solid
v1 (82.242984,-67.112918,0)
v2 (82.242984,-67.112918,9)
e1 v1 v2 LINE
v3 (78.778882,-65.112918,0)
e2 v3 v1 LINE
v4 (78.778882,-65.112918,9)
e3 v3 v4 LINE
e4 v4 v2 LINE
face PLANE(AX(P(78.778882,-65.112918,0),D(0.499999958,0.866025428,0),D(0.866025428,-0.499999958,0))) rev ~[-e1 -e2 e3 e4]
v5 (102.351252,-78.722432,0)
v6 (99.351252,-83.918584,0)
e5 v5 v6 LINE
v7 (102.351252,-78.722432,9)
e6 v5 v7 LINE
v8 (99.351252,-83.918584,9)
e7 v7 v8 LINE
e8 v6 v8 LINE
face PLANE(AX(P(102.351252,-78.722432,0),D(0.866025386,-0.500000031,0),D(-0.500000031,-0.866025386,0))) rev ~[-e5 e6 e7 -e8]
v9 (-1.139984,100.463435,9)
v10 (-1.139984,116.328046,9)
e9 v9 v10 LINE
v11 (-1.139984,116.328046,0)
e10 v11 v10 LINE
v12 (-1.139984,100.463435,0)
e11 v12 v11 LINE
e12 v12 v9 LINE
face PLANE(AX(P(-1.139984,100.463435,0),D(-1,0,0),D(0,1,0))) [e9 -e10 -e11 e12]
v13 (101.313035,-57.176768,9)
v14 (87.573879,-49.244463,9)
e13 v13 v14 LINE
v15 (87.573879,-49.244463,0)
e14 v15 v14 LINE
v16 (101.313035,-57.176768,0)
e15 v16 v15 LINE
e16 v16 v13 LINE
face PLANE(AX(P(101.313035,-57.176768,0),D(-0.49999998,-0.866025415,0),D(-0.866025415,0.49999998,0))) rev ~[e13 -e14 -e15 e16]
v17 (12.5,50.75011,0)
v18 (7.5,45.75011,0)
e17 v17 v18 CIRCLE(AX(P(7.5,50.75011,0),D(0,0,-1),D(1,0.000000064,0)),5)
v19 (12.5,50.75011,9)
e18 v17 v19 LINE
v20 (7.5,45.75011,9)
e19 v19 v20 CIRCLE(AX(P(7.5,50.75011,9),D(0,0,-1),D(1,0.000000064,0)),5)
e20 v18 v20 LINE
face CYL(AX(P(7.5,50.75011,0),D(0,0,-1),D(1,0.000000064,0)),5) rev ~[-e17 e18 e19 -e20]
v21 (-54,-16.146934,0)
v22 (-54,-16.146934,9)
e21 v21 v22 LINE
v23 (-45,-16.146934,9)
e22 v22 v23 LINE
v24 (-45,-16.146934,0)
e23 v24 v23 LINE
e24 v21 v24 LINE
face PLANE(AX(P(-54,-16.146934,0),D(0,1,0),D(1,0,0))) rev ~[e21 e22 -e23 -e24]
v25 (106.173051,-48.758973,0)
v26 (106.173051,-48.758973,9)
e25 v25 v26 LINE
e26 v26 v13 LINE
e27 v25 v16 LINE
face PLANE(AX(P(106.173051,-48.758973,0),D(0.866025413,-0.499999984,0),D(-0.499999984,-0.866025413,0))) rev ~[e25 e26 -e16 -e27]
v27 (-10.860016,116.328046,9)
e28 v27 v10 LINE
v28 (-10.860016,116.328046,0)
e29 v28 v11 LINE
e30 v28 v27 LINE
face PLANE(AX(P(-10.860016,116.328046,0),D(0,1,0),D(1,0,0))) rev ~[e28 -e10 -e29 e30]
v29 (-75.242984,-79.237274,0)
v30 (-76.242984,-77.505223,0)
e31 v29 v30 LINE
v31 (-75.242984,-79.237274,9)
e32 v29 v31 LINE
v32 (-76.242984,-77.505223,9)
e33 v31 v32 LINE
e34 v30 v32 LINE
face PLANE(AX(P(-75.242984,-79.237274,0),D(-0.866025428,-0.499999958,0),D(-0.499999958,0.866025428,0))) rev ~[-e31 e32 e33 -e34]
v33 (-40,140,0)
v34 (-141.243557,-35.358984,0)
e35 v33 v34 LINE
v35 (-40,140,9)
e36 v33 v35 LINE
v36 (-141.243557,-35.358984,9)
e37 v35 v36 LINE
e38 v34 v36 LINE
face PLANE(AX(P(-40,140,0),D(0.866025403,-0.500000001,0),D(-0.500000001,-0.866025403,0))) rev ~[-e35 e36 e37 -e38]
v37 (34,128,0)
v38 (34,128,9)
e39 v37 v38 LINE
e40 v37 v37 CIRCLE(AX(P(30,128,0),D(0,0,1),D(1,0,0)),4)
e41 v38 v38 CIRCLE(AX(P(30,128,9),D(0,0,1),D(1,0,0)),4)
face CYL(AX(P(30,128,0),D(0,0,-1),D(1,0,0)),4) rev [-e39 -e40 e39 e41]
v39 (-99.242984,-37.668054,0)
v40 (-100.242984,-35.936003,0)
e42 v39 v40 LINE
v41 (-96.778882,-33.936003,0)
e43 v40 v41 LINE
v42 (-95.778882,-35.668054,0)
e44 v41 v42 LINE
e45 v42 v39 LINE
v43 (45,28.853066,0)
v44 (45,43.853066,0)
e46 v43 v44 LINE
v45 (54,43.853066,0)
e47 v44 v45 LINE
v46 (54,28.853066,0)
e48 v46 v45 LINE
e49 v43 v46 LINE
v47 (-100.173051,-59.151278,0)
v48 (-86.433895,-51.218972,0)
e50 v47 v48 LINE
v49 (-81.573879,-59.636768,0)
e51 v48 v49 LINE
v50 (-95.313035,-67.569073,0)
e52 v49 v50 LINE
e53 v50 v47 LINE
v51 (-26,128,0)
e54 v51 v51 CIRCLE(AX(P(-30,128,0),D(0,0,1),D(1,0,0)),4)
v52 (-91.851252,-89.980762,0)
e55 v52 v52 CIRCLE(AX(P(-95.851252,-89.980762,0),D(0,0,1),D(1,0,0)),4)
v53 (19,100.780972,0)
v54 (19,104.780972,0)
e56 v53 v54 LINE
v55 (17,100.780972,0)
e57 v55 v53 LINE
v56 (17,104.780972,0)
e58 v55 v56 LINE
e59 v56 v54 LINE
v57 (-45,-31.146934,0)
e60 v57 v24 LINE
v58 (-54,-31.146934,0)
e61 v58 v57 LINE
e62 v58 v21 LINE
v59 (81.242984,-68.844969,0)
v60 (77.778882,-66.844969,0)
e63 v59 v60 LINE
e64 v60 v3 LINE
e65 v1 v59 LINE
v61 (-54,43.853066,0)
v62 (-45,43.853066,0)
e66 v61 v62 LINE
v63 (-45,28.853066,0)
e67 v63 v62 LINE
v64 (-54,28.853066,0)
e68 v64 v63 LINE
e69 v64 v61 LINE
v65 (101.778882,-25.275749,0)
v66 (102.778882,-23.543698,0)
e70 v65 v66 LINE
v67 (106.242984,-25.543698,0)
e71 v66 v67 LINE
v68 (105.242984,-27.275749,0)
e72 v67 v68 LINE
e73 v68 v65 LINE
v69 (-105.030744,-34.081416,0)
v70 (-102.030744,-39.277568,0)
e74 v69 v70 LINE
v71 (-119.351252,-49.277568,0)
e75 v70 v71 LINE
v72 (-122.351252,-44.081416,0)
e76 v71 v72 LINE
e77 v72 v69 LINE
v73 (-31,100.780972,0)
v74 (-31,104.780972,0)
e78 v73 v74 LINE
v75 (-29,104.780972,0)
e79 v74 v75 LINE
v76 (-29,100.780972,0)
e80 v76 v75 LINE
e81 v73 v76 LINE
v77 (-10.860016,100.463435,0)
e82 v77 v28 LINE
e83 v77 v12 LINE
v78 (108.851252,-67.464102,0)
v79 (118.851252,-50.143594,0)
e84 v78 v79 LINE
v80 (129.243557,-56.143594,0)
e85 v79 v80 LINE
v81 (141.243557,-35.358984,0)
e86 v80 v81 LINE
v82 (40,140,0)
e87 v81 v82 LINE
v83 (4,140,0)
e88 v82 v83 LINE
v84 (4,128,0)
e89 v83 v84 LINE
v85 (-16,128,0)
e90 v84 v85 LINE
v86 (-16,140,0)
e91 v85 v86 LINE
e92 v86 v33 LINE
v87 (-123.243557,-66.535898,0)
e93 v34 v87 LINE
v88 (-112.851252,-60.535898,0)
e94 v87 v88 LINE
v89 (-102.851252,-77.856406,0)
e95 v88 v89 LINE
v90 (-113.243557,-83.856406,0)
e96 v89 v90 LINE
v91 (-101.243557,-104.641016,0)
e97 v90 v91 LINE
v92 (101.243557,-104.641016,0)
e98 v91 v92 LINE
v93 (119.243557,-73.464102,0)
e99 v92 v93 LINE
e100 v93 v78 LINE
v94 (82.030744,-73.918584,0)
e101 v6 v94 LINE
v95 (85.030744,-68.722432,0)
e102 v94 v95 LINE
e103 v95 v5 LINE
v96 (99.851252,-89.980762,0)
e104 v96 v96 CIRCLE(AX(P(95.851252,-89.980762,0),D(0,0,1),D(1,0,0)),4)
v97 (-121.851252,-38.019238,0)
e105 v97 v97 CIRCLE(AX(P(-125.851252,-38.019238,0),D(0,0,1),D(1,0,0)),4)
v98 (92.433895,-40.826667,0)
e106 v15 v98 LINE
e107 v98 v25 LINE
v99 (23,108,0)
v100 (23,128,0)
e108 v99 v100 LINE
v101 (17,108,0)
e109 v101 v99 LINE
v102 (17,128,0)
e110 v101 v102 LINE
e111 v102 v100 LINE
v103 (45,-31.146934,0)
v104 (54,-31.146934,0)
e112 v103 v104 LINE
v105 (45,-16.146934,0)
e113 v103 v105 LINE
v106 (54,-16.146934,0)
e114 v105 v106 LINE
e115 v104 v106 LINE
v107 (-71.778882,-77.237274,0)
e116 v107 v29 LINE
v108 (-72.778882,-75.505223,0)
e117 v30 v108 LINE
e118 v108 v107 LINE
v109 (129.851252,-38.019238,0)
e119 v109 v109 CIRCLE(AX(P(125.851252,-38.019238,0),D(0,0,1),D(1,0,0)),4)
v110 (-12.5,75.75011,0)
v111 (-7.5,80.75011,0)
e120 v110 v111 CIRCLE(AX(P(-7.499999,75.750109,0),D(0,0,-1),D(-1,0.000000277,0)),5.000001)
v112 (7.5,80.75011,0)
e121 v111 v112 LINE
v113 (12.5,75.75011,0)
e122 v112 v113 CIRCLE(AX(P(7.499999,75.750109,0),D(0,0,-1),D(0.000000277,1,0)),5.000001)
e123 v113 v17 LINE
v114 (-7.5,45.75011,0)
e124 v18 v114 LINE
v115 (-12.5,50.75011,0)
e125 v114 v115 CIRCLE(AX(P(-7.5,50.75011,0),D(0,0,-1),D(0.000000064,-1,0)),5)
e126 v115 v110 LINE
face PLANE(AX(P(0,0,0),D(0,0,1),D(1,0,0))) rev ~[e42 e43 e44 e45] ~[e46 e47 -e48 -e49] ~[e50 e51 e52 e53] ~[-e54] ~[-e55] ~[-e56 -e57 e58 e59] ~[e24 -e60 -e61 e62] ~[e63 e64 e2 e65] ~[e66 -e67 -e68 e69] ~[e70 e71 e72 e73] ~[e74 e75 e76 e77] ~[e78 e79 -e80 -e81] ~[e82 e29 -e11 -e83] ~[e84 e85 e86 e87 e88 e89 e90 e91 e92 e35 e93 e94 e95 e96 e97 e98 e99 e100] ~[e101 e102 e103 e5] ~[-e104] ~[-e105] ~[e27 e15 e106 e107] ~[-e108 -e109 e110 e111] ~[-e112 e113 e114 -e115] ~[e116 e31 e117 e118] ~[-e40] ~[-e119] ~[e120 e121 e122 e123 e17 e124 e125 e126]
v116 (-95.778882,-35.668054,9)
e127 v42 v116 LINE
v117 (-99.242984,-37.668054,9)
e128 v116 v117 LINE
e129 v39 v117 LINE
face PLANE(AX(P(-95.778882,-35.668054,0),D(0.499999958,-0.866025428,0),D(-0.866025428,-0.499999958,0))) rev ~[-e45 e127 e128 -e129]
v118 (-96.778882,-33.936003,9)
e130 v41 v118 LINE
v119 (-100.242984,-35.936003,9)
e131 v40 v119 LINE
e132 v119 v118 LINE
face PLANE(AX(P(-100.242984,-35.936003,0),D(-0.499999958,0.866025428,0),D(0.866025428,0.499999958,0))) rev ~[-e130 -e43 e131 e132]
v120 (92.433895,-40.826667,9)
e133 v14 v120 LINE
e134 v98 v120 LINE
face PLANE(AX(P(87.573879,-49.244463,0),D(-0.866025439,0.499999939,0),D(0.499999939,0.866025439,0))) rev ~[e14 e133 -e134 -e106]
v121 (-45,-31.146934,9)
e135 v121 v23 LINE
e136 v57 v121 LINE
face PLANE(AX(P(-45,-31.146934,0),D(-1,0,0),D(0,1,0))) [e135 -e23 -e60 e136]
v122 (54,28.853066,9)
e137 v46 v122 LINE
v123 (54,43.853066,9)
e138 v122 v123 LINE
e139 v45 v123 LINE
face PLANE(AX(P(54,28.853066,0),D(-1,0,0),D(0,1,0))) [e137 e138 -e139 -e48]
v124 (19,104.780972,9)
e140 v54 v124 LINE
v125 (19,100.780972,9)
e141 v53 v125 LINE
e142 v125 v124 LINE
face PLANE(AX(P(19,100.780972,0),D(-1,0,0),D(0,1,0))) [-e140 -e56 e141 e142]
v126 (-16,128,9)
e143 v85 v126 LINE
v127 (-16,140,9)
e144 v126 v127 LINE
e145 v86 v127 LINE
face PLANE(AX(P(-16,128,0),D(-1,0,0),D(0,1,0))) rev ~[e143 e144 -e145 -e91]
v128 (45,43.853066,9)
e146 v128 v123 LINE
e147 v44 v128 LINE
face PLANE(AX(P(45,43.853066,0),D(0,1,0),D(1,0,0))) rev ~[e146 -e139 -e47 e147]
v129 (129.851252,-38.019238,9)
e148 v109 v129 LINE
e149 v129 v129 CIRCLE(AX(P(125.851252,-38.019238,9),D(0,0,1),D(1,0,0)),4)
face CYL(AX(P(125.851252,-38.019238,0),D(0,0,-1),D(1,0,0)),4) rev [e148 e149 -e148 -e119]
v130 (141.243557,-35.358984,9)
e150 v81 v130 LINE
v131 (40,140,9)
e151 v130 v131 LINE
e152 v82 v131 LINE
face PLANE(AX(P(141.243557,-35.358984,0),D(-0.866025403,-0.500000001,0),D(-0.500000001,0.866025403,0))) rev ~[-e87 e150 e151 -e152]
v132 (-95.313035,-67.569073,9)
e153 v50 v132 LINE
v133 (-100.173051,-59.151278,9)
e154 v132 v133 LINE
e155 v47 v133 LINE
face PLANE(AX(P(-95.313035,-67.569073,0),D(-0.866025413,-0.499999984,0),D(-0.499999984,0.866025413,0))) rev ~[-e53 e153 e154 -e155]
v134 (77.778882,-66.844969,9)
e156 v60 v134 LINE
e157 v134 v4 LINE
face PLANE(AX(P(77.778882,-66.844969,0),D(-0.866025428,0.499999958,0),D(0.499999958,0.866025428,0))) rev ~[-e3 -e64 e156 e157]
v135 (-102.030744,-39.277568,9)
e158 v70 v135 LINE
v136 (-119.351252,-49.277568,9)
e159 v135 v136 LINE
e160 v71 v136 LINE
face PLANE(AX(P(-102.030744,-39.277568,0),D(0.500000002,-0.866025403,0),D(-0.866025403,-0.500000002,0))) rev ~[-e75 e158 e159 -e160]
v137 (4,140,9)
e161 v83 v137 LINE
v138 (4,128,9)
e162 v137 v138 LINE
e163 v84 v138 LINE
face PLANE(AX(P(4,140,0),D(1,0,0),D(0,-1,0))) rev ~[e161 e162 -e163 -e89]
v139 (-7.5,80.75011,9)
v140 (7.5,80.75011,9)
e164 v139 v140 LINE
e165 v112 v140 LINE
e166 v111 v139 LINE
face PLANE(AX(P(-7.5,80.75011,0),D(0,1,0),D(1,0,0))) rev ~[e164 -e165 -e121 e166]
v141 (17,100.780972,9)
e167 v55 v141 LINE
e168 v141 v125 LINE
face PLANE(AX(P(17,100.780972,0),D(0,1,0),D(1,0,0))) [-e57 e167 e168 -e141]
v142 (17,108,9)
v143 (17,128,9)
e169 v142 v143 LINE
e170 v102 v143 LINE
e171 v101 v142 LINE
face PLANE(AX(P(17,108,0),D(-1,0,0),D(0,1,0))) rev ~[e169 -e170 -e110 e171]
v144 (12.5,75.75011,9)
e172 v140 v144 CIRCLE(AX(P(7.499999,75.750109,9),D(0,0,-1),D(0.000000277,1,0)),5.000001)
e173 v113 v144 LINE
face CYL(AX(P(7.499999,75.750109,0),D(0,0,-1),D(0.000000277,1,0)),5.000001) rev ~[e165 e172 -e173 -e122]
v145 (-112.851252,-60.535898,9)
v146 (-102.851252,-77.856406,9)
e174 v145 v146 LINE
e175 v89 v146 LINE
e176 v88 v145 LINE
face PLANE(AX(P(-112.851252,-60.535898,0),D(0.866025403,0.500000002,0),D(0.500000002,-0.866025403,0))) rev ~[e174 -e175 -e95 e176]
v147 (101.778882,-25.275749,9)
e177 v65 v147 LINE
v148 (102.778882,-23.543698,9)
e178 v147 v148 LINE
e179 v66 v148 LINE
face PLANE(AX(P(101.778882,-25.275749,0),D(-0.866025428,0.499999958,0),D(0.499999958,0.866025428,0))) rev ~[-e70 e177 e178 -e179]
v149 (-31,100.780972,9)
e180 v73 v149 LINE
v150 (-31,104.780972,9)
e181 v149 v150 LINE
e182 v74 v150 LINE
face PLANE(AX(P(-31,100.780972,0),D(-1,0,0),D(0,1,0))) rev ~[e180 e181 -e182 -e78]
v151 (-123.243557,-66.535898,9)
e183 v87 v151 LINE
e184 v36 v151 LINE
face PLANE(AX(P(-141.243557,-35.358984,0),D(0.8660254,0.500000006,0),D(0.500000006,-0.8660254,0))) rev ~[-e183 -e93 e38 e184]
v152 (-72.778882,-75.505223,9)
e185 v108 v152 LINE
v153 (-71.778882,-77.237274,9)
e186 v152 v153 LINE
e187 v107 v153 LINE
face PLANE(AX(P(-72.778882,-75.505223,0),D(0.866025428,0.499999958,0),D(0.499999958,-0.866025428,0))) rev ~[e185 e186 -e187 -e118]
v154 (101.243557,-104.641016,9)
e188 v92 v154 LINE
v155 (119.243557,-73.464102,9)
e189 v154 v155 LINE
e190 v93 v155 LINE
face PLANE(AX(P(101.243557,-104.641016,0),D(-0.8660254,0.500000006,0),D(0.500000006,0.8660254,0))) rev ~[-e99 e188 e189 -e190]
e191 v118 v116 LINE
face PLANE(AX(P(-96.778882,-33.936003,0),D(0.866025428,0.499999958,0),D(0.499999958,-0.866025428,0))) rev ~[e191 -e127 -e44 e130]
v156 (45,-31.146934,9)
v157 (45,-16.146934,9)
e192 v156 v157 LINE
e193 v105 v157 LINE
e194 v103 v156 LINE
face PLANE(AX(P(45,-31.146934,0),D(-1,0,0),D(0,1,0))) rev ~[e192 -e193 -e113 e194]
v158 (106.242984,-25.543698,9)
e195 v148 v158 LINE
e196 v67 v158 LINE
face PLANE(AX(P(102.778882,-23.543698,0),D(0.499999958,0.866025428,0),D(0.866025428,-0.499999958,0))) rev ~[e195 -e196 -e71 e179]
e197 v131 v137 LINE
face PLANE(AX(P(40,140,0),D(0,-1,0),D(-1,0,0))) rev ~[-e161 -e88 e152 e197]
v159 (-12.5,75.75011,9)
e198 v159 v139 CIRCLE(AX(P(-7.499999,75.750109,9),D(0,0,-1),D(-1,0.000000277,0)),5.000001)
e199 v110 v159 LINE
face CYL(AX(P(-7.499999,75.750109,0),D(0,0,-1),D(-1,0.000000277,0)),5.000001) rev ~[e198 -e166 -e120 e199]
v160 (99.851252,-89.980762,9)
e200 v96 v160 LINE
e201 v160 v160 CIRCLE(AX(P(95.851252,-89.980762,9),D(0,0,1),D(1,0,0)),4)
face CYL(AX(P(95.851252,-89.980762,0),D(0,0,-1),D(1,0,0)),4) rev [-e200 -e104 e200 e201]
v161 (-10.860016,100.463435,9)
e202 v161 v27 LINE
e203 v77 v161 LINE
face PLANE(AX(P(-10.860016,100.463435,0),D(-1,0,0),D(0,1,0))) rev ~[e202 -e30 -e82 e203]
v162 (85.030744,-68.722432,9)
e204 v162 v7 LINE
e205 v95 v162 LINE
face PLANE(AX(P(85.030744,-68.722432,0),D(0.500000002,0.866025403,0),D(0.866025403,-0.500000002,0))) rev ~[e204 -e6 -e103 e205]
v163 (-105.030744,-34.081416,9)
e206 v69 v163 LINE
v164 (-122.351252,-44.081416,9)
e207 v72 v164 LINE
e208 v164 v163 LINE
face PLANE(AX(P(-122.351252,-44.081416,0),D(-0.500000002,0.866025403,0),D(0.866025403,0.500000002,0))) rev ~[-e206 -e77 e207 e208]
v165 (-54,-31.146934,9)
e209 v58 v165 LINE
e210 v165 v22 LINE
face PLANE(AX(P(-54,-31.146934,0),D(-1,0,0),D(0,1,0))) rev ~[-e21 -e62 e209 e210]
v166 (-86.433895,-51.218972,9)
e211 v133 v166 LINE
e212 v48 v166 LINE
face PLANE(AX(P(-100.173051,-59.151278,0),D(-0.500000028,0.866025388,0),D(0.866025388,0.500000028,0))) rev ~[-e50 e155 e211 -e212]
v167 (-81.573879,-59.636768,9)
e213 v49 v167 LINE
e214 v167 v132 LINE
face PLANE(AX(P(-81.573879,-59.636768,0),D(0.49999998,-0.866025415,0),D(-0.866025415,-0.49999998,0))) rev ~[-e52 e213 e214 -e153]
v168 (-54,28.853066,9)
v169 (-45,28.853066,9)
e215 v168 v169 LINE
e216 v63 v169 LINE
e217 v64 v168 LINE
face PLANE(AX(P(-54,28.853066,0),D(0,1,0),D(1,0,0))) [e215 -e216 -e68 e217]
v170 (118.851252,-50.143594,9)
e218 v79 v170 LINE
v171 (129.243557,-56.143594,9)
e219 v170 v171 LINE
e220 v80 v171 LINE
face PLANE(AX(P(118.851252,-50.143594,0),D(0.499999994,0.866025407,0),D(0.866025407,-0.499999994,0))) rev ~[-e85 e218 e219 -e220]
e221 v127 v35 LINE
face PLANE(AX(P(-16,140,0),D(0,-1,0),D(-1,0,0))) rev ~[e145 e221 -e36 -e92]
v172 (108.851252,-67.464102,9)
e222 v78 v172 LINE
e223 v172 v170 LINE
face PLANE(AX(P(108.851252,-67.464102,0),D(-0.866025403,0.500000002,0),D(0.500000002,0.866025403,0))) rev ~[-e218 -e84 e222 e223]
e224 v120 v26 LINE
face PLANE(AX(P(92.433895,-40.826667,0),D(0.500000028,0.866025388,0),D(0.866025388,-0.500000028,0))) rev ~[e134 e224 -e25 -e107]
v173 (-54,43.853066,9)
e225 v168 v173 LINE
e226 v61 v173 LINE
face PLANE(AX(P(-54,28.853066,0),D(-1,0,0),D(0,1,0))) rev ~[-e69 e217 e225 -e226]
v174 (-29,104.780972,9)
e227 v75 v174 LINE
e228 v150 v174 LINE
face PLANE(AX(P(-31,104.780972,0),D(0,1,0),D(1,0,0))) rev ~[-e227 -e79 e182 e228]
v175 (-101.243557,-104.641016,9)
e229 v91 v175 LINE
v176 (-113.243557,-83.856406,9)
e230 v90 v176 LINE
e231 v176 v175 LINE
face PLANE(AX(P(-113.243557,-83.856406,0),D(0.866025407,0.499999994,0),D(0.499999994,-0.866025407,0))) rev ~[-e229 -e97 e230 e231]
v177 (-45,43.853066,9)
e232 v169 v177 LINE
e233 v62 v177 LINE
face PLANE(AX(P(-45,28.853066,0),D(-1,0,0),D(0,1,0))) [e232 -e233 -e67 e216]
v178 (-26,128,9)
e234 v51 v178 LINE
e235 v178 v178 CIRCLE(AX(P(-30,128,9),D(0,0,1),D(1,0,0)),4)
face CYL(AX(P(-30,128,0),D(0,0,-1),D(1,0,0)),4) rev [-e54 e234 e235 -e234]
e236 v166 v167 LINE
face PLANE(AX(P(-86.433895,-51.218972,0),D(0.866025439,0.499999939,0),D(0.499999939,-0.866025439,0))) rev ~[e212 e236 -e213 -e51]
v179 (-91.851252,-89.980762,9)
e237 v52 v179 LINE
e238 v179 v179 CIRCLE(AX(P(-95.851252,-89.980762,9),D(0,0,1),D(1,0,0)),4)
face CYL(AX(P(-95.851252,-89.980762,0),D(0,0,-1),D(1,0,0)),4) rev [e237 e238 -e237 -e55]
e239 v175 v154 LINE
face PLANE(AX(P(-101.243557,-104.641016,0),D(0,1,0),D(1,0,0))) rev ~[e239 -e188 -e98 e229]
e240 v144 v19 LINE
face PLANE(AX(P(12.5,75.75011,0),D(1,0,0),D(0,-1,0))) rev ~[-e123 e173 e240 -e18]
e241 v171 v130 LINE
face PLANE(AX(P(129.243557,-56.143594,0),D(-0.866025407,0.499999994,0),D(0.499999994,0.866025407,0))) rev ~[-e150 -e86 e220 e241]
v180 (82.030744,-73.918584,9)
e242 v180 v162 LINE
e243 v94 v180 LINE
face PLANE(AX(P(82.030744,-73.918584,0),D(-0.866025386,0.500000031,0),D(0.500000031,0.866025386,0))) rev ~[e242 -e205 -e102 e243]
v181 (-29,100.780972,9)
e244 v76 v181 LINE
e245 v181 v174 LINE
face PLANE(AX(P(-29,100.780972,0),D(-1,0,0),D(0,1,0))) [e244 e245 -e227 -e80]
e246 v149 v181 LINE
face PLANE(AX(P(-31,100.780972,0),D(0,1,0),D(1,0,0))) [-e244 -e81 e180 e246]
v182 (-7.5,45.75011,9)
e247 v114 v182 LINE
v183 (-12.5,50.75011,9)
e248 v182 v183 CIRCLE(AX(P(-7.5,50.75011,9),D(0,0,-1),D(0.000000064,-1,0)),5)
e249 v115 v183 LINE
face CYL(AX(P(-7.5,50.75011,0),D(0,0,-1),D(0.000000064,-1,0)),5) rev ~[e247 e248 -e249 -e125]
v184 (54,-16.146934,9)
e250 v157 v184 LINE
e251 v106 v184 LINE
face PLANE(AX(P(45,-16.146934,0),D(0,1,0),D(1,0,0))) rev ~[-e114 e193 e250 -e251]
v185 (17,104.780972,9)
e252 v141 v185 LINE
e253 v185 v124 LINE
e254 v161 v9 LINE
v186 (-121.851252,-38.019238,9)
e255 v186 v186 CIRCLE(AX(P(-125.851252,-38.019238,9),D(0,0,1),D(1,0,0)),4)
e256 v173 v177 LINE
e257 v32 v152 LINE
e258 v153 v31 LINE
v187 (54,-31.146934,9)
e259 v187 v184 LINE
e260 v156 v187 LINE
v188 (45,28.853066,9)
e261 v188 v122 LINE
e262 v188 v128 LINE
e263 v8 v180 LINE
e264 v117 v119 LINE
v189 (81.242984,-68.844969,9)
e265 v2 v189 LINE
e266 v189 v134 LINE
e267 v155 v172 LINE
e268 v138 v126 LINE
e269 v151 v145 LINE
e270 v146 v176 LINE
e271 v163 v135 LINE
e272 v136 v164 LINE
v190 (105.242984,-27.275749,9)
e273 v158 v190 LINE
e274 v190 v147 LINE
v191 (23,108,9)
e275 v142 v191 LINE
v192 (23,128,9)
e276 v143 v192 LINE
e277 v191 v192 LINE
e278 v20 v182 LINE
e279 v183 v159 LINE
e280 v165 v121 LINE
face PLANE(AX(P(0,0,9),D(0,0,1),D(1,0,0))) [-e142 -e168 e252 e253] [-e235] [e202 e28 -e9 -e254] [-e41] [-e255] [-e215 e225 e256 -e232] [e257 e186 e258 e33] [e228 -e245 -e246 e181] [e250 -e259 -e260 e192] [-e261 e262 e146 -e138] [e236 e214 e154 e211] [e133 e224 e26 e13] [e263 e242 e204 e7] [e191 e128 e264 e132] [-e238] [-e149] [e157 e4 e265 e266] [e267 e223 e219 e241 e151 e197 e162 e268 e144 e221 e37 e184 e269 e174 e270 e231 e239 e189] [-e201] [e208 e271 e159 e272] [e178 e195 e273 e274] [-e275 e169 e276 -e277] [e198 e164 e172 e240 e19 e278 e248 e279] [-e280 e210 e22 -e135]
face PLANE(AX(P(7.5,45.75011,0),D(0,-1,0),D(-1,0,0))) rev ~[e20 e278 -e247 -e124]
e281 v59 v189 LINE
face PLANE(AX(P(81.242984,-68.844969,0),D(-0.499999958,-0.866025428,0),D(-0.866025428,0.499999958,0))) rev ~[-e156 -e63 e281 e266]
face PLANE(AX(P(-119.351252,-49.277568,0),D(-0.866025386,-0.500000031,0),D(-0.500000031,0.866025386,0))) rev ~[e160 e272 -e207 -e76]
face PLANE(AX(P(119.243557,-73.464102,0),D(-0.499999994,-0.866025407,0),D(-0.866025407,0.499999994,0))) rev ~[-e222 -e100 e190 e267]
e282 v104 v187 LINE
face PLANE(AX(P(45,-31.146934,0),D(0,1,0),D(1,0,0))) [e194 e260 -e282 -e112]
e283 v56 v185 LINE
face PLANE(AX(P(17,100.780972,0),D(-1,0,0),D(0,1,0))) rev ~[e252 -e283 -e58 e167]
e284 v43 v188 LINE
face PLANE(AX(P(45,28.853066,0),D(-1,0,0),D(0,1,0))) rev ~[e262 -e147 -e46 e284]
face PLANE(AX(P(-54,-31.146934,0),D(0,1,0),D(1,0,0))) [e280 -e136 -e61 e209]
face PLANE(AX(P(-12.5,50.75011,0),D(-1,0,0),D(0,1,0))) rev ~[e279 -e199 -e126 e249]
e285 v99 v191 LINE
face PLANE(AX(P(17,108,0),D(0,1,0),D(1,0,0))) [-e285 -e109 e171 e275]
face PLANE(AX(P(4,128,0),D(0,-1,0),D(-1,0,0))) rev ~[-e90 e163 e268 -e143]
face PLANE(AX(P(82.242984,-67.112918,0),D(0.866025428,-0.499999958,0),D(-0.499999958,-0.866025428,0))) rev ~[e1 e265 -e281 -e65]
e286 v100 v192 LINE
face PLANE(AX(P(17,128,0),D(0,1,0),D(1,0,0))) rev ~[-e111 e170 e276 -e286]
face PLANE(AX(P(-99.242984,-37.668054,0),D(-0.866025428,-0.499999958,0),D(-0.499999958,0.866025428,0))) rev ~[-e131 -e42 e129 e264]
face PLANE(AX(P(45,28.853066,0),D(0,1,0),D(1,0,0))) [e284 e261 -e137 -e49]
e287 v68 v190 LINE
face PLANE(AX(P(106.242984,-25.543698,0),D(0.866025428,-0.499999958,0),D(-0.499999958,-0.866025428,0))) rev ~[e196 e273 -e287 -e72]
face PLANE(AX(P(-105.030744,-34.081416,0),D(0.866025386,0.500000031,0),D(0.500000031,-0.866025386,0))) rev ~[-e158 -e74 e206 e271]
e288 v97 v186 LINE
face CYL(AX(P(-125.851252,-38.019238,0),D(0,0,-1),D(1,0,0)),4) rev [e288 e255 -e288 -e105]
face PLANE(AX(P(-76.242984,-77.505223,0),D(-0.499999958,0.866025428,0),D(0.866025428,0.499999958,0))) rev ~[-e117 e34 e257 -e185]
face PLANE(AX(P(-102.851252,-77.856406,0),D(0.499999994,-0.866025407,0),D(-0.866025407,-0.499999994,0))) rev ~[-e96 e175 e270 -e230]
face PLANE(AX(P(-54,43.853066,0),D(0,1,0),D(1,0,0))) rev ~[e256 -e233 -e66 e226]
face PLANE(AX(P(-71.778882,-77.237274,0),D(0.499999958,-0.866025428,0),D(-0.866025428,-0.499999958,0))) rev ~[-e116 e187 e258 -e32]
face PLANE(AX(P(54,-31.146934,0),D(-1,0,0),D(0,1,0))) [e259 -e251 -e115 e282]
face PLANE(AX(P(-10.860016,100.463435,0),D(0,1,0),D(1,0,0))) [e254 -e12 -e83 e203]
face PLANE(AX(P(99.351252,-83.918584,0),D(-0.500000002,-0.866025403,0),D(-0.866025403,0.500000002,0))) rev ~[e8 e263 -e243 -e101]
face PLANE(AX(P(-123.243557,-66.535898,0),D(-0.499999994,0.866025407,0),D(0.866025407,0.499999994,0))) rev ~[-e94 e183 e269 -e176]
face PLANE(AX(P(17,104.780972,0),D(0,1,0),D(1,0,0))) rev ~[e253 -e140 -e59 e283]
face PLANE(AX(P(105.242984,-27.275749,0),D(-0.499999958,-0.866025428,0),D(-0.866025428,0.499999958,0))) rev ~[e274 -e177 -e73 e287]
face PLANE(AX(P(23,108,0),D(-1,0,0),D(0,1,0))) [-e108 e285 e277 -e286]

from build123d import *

# Parameters (mm, degrees)
F0_R     = 4
F0_W     = 9
F0_H     = 15
F0_W_2   = 2
F0_H_2   = 4
F0_W_3   = 9.720032
F0_H_3   = 15.864611
F0_W_4   = 6
F0_H_4   = 20
F1_DEPTH = 9


with BuildPart() as f1:
    # F0 (on Top) → F1 (new body)
    with BuildSketch(Plane.XY):
        Polygon((-16, 140), (-40, 140), (-141.243557, -35.358984), (-123.243557, -66.535898), (-112.851252, -60.535898), (-102.851252, -77.856406), (-113.243557, -83.856406), (-101.243557, -104.641016), (101.243557, -104.641016), (119.243557, -73.464102), (108.851252, -67.464102), (118.851252, -50.143594), (129.243557, -56.143594), (141.243557, -35.358984), (40, 140), (4, 140), (4, 128), (-16, 128), align=None)
        with Locations((-95.851252, -89.980762)):
            Circle(F0_R, mode=Mode.SUBTRACT)
        Polygon((-76.242984, -77.505223), (-72.778882, -75.505223), (-71.778882, -77.237274), (-75.242984, -79.237274), align=None, mode=Mode.SUBTRACT)
        Polygon((-100.173051, -59.151278), (-86.433895, -51.218972), (-81.573879, -59.636768), (-95.313035, -67.569073), align=None, mode=Mode.SUBTRACT)
        with Locations((-125.851252, -38.019238)):
            Circle(F0_R, mode=Mode.SUBTRACT)
        Polygon((-119.351252, -49.277568), (-122.351252, -44.081416), (-105.030744, -34.081416), (-102.030744, -39.277568), align=None, mode=Mode.SUBTRACT)
        Polygon((-99.242984, -37.668054), (-100.242984, -35.936003), (-96.778882, -33.936003), (-95.778882, -35.668054), align=None, mode=Mode.SUBTRACT)
        with Locations((-49.5, -23.646934)):
            Rectangle(F0_W, F0_H, mode=Mode.SUBTRACT)
        with Locations((95.851252, -89.980762)):
            Circle(F0_R, mode=Mode.SUBTRACT)
        Polygon((102.351252, -78.722432), (99.351252, -83.918584), (82.030744, -73.918584), (85.030744, -68.722432), align=None, mode=Mode.SUBTRACT)
        Polygon((82.242984, -67.112918), (81.242984, -68.844969), (77.778882, -66.844969), (78.778882, -65.112918), align=None, mode=Mode.SUBTRACT)
        Polygon((101.313035, -57.176768), (87.573879, -49.244463), (92.433895, -40.826667), (106.173051, -48.758973), align=None, mode=Mode.SUBTRACT)
        with Locations((49.5, -23.646934)):
            Rectangle(F0_W, F0_H, mode=Mode.SUBTRACT)
        Polygon((105.242984, -27.275749), (101.778882, -25.275749), (102.778882, -23.543698), (106.242984, -25.543698), align=None, mode=Mode.SUBTRACT)
        with Locations((125.851252, -38.019238)):
            Circle(F0_R, mode=Mode.SUBTRACT)
        with Locations((-49.5, 36.353066)):
            Rectangle(F0_W, F0_H, mode=Mode.SUBTRACT)
        with Locations((-30, 102.780972)):
            Rectangle(F0_W_2, F0_H_2, mode=Mode.SUBTRACT)
        with Locations((-6, 108.39574)):
            Rectangle(F0_W_3, F0_H_3, mode=Mode.SUBTRACT)
        with Locations((-30, 128)):
            Circle(F0_R, mode=Mode.SUBTRACT)
        with Locations((49.5, 36.353066)):
            Rectangle(F0_W, F0_H, mode=Mode.SUBTRACT)
        with BuildLine():
            Line((-7.5, 80.75011), (7.5, 80.75011))
            ThreePointArc((7.5, 80.75011), (11.035534, 79.285643), (12.5, 75.75011))
            Line((12.5, 75.75011), (12.5, 50.75011))
            ThreePointArc((12.5, 50.75011), (11.035534, 47.214576), (7.5, 45.75011))
            Line((7.5, 45.75011), (-7.5, 45.75011))
            ThreePointArc((-7.5, 45.75011), (-11.035534, 47.214576), (-12.5, 50.75011))
            Line((-12.5, 50.75011), (-12.5, 75.75011))
            ThreePointArc((-12.5, 75.75011), (-11.035534, 79.285643), (-7.5, 80.75011))
        make_face(mode=Mode.SUBTRACT)
        with Locations((18, 102.780972)):
            Rectangle(F0_W_2, F0_H_2, mode=Mode.SUBTRACT)
        with Locations((20, 118)):
            Rectangle(F0_W_4, F0_H_4, mode=Mode.SUBTRACT)
        with Locations((30, 128)):
            Circle(F0_R, mode=Mode.SUBTRACT)
    extrude(amount=F1_DEPTH)


solid = f1.part
